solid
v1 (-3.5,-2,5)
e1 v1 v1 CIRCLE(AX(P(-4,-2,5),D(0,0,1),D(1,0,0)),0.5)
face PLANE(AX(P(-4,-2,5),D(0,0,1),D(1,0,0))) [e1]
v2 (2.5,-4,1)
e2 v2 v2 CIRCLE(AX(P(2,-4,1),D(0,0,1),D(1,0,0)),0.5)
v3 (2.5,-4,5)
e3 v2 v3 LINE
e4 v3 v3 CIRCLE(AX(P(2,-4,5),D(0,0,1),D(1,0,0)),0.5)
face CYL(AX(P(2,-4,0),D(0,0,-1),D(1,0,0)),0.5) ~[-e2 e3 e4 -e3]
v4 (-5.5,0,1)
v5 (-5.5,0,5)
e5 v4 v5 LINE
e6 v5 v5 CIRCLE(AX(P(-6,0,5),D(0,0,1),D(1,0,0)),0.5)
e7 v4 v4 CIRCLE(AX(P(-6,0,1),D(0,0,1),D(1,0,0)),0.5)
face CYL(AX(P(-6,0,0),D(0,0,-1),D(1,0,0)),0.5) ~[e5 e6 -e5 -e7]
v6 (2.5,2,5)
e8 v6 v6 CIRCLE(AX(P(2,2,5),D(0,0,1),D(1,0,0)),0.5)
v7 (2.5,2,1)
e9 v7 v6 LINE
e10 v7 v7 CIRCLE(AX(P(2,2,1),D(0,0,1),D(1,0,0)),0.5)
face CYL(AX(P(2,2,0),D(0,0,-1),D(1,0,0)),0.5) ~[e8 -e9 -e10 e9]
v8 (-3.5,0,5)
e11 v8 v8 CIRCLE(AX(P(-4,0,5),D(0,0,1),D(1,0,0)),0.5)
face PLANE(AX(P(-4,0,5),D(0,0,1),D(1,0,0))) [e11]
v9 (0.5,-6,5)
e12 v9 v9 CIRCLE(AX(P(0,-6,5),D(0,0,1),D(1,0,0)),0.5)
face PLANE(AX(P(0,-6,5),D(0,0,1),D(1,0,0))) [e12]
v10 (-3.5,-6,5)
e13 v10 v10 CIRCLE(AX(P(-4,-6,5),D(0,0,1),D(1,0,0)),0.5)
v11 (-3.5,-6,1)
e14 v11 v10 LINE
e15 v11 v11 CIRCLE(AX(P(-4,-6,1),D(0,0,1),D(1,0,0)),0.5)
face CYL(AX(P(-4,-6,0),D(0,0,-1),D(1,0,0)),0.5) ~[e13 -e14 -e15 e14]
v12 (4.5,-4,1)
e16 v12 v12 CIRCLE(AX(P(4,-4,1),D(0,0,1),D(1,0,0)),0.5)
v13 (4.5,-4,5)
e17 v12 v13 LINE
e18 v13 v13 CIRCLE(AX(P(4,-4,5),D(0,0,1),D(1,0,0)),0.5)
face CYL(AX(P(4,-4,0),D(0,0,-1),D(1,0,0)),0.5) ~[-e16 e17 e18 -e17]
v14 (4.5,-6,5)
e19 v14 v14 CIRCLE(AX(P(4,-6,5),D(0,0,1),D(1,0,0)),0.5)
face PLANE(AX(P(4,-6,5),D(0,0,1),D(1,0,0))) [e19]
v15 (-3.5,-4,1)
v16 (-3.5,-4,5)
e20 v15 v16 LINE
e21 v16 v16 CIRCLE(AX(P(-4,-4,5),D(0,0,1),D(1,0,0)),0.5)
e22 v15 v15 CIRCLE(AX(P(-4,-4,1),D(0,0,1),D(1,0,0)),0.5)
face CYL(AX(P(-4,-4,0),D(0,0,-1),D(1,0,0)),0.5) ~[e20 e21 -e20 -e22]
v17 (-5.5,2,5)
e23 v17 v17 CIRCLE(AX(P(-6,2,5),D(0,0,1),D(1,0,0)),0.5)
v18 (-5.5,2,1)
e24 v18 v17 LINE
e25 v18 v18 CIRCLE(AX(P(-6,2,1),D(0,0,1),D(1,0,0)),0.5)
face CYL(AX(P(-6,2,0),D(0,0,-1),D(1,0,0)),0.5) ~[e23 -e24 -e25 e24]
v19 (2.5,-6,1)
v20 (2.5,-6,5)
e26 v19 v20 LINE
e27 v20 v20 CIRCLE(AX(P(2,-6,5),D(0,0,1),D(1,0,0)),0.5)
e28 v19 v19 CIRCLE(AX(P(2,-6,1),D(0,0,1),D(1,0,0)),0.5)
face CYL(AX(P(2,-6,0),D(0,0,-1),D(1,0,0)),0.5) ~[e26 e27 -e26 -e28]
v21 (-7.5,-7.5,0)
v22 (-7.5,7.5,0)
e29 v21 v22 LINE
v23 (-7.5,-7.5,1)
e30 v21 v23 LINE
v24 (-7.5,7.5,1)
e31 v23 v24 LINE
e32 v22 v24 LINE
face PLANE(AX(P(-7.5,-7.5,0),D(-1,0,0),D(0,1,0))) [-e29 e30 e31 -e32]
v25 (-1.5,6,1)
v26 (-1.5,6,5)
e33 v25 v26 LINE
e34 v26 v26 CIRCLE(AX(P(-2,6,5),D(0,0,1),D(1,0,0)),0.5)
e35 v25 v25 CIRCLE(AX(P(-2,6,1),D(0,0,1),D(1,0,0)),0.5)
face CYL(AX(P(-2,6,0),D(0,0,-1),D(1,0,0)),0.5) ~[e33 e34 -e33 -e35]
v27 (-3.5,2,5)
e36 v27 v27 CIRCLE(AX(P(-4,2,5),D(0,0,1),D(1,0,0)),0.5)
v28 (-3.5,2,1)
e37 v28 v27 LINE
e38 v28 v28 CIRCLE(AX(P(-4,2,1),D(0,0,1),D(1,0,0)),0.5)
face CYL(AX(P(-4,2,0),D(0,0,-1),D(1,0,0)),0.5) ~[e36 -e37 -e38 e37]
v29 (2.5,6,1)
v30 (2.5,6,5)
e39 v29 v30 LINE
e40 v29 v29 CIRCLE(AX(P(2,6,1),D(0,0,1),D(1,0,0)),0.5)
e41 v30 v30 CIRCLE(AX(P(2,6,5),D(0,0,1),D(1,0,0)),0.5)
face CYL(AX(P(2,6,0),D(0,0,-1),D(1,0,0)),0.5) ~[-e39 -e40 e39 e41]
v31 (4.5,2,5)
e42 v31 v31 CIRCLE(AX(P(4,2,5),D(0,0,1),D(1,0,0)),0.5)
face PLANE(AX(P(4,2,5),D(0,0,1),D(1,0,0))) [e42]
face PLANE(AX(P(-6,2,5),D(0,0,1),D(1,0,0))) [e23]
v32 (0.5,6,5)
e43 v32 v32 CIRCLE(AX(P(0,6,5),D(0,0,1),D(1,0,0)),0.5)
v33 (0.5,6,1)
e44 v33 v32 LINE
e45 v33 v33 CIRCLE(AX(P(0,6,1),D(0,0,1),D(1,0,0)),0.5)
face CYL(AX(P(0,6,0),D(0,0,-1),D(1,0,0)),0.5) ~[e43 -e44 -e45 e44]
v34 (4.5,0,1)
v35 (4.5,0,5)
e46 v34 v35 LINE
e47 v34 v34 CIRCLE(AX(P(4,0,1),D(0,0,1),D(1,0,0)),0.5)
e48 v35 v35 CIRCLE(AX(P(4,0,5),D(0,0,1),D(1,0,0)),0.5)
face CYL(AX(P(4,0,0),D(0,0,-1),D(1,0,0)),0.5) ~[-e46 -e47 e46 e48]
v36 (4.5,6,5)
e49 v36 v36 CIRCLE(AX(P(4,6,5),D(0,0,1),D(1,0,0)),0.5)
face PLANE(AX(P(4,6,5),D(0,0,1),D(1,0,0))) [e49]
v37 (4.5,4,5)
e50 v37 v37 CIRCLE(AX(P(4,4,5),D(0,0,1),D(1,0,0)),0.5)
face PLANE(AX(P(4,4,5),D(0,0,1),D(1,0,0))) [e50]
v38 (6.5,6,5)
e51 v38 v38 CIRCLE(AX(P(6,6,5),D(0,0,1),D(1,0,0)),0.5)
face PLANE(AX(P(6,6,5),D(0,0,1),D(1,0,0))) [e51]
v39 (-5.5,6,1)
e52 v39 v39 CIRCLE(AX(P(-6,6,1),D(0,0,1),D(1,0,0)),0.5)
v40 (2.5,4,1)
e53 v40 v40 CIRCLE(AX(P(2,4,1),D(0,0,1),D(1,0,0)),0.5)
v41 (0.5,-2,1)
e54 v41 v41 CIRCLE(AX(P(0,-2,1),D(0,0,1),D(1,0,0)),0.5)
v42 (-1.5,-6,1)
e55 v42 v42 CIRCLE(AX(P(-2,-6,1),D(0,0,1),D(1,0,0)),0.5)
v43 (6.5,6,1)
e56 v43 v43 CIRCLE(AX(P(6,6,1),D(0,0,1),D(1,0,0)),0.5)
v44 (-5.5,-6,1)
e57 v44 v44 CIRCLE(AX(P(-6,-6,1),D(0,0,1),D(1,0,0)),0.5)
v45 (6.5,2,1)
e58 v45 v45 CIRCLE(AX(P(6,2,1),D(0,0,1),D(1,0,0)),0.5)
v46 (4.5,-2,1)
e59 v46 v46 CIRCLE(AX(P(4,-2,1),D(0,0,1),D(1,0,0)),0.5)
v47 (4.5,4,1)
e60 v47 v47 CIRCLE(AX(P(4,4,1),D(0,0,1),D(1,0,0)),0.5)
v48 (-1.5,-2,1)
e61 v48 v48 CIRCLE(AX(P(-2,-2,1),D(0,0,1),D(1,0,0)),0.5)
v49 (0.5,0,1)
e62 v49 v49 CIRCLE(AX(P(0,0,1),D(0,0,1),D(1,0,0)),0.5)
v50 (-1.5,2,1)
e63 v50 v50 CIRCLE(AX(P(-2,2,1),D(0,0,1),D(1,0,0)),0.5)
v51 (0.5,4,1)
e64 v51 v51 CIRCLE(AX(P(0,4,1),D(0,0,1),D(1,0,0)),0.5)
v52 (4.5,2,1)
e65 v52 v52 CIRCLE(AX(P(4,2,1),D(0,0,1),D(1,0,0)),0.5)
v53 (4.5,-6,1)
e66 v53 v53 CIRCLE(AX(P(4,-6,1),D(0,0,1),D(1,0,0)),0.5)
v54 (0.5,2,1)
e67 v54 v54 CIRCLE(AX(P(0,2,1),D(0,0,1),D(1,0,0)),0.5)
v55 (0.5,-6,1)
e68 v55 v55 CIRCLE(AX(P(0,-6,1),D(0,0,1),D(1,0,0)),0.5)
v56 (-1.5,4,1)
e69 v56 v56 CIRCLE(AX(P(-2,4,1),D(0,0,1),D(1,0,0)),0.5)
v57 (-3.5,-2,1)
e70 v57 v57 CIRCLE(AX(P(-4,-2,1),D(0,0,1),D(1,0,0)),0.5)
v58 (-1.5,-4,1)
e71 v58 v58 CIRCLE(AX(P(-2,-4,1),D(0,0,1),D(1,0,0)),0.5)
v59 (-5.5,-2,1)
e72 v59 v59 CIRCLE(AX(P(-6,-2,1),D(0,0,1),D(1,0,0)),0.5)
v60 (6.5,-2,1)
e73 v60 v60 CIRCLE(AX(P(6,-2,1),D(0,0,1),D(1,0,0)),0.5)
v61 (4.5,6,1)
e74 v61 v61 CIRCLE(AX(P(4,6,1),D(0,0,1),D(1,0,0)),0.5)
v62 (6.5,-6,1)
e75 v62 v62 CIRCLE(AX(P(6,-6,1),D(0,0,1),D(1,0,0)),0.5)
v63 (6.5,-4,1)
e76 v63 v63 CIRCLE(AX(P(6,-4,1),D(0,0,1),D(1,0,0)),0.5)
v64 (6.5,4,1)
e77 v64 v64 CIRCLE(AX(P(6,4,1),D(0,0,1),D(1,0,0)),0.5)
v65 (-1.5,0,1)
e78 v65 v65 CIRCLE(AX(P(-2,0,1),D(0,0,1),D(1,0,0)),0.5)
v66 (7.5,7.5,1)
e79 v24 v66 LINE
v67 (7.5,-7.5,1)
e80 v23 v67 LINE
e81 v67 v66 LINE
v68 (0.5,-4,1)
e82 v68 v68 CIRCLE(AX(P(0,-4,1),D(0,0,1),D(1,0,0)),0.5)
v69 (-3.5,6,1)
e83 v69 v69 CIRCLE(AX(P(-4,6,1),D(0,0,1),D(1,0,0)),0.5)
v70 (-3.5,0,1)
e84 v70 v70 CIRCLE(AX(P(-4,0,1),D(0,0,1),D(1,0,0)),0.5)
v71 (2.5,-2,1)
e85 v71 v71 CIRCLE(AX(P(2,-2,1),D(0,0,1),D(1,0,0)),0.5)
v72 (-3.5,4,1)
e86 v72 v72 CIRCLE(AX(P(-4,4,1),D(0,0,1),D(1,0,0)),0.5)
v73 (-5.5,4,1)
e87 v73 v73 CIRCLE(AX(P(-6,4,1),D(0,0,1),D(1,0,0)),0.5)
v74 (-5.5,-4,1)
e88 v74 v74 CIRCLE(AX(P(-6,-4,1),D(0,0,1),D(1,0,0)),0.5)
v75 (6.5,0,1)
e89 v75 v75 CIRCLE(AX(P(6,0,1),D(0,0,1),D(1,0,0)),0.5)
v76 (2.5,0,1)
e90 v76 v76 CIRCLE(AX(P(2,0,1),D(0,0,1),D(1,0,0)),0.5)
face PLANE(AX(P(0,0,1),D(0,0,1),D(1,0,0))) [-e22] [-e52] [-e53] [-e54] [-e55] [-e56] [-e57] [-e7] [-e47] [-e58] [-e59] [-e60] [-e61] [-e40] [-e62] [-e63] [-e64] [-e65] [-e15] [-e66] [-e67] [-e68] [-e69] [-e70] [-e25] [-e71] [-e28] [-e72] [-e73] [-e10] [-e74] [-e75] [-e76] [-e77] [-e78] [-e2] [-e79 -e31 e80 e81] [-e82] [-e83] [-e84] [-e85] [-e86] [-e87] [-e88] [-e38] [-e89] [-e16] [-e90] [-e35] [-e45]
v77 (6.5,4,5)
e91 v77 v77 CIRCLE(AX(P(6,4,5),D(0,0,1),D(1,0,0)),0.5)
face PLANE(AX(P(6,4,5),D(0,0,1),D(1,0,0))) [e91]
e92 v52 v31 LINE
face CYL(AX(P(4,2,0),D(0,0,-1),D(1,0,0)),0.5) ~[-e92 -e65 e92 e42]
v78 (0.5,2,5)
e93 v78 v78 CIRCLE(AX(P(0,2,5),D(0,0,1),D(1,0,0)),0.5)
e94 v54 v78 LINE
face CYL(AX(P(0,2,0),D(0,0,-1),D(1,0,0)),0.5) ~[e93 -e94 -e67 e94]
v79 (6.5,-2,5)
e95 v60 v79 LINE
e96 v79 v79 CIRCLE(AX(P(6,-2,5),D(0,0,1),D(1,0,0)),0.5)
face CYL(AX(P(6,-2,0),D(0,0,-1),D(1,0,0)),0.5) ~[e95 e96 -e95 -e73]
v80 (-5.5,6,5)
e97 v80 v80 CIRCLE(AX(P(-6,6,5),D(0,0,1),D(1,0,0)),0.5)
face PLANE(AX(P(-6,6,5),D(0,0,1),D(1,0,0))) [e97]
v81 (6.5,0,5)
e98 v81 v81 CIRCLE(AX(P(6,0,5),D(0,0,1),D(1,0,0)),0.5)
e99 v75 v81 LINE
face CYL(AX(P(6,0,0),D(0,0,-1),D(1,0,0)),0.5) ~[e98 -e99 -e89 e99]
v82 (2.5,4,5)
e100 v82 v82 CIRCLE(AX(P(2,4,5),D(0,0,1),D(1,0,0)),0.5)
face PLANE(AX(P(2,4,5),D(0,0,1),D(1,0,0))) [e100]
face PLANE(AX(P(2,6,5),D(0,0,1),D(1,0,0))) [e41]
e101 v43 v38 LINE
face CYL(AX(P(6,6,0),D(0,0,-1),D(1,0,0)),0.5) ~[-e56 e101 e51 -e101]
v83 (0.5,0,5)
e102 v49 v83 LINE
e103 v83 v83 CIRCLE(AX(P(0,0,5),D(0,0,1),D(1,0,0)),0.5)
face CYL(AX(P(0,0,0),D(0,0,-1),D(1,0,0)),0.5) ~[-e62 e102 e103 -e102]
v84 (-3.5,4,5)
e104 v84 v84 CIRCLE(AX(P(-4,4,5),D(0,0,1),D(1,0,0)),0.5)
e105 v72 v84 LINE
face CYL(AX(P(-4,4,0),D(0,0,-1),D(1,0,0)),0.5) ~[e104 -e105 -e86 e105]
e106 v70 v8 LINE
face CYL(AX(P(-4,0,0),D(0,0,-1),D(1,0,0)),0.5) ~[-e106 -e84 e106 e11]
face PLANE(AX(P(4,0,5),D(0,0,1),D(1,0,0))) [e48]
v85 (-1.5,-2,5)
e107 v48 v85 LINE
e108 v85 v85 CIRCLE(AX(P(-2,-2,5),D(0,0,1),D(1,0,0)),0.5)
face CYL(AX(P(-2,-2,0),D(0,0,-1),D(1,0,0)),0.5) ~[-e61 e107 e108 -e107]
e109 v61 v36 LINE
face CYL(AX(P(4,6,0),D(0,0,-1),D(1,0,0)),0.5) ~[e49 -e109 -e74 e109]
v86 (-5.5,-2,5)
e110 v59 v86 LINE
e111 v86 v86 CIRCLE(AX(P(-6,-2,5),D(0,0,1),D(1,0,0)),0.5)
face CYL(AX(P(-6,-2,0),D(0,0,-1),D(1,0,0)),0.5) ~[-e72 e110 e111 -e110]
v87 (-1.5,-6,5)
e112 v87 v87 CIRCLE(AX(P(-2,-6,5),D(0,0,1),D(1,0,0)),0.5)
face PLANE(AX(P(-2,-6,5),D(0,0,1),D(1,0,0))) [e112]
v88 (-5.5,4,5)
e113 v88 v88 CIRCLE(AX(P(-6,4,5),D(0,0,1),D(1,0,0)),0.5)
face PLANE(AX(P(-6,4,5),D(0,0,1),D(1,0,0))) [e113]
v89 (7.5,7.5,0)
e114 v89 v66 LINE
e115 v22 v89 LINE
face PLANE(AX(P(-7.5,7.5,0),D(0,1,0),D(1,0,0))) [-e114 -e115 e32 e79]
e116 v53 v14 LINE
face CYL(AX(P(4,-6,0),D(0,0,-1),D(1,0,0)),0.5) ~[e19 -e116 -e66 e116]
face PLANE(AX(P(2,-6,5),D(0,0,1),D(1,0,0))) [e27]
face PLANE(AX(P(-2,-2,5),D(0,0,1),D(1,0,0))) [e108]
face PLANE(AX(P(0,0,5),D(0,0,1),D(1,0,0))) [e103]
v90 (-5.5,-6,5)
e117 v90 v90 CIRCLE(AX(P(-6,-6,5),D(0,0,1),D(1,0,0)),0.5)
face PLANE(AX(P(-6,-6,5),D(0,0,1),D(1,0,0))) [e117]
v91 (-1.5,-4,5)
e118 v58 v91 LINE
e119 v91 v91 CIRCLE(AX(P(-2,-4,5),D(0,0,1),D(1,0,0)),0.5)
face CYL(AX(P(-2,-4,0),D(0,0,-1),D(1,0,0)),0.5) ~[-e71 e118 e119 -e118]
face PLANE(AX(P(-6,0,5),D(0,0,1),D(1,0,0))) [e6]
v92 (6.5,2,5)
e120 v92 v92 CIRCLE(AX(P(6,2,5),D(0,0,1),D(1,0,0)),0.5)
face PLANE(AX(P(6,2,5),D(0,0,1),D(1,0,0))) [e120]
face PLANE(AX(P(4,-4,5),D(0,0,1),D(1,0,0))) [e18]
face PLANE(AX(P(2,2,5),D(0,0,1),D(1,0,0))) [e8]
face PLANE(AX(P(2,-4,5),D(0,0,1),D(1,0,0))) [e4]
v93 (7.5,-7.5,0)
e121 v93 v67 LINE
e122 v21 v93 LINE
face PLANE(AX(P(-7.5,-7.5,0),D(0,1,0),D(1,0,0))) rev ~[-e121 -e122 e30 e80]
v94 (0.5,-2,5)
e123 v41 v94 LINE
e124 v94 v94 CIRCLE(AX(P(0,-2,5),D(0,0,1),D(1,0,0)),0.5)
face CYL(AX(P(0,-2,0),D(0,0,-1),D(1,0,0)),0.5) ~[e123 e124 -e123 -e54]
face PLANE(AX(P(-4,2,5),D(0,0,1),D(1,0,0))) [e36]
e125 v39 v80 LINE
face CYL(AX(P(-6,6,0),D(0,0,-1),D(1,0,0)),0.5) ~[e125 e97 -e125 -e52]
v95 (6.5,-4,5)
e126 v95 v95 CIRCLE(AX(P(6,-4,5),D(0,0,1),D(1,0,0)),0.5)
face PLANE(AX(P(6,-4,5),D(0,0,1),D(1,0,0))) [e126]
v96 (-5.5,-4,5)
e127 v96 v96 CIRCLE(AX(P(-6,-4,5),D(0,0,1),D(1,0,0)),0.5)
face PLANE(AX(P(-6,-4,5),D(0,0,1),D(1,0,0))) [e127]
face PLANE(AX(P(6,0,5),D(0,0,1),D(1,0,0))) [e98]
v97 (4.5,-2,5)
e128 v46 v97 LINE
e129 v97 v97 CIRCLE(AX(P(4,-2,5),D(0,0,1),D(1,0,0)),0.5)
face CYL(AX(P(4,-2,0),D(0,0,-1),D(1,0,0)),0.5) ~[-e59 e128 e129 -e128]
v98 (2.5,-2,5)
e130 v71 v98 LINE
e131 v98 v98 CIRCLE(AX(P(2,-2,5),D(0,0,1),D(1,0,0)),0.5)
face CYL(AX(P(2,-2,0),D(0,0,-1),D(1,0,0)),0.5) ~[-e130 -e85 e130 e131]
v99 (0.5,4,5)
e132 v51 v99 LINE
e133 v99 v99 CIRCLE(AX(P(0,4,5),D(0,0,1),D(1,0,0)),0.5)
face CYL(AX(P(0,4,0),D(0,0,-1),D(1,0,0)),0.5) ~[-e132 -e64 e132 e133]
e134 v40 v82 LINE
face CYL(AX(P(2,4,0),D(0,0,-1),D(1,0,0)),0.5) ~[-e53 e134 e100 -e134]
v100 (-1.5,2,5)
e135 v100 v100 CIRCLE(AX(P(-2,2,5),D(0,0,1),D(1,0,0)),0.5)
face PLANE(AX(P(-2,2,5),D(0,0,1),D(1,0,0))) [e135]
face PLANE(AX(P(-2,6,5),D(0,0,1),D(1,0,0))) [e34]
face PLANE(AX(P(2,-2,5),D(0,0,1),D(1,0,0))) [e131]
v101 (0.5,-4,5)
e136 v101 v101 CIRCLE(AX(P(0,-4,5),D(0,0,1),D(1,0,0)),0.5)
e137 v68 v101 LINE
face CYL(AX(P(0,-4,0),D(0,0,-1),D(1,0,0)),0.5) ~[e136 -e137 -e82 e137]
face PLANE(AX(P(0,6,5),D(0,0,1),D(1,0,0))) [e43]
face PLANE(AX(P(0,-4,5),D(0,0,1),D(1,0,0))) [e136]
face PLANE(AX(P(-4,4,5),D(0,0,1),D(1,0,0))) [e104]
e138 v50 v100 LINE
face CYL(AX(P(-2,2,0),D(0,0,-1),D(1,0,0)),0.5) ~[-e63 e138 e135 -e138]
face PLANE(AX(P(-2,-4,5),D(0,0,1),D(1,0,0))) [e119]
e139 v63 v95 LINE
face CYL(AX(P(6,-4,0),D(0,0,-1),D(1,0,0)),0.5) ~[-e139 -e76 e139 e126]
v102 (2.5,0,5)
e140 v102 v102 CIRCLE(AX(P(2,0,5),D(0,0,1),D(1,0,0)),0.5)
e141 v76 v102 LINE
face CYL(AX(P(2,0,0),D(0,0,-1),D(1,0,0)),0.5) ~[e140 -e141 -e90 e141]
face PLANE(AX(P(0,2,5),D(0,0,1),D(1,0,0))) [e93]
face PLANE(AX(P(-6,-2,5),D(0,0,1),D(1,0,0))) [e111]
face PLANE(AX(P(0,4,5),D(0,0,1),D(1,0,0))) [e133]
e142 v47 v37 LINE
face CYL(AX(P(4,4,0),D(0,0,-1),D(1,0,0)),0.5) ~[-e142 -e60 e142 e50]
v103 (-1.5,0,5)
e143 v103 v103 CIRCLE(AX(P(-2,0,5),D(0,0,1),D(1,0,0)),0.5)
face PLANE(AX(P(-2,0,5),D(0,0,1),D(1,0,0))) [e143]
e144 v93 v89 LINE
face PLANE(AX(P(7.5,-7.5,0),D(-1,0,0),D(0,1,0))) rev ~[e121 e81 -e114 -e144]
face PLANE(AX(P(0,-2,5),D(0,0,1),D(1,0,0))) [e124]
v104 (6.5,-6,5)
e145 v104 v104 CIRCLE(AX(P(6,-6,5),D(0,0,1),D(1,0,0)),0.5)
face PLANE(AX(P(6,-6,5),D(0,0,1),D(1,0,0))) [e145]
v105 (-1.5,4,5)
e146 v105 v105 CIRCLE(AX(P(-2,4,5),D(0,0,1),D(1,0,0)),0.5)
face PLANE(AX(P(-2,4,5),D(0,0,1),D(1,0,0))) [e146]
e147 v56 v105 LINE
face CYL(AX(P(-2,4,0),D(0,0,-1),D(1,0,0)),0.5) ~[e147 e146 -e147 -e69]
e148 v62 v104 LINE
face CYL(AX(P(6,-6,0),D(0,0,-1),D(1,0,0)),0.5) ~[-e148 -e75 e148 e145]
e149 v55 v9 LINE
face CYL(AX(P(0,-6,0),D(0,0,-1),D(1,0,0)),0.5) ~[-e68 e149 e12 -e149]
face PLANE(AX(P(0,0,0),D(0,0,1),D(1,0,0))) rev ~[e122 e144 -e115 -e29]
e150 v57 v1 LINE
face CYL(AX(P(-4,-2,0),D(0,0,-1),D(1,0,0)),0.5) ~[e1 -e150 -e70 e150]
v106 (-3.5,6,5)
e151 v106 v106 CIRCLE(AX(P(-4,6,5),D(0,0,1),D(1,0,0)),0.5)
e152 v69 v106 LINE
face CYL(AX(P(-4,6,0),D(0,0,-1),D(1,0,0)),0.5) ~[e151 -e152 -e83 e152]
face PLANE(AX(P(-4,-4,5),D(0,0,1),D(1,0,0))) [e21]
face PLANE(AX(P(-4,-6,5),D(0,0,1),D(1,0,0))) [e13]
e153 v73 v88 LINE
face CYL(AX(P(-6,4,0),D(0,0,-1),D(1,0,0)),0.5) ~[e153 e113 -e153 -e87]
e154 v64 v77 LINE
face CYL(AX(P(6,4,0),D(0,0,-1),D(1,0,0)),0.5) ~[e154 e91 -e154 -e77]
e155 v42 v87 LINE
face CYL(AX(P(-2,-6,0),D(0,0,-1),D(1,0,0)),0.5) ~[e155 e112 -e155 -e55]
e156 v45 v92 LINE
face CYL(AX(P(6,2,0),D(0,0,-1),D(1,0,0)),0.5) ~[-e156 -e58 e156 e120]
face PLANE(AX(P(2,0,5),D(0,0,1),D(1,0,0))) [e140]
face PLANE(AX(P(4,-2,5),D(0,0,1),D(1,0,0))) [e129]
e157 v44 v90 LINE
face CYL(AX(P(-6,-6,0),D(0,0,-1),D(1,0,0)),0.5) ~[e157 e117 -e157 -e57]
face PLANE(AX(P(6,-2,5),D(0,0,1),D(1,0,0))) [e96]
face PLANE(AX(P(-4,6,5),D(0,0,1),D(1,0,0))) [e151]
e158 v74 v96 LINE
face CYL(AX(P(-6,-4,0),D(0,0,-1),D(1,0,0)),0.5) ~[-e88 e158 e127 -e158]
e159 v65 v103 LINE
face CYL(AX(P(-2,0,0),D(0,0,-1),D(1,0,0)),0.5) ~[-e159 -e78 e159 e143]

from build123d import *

# Parameters (mm, degrees)
F0_W     = 15
F0_H     = 15
F0_R     = 0.5
F1_DEPTH = 1
F2_DEPTH = 5


with BuildPart() as f1:
    # F0 (on Top) → F1 (new body)
    with BuildSketch(Plane.XY):
        Rectangle(F0_W, F0_H)
        with Locations((-6, -6)):
            Circle(F0_R, mode=Mode.SUBTRACT)
        with Locations((-4, -6)):
            Circle(F0_R, mode=Mode.SUBTRACT)
        with Locations((-6, -4)):
            Circle(F0_R, mode=Mode.SUBTRACT)
        with Locations((-4, -4)):
            Circle(F0_R, mode=Mode.SUBTRACT)
        with Locations((-2, -6)):
            Circle(F0_R, mode=Mode.SUBTRACT)
        with Locations((-2, -4)):
            Circle(F0_R, mode=Mode.SUBTRACT)
        with Locations((-6, -2)):
            Circle(F0_R, mode=Mode.SUBTRACT)
        with Locations((-4, -2)):
            Circle(F0_R, mode=Mode.SUBTRACT)
        with Locations((-2, -2)):
            Circle(F0_R, mode=Mode.SUBTRACT)
        with Locations((0, -6)):
            Circle(F0_R, mode=Mode.SUBTRACT)
        with Locations((2, -6)):
            Circle(F0_R, mode=Mode.SUBTRACT)
        with Locations((0, -4)):
            Circle(F0_R, mode=Mode.SUBTRACT)
        with Locations((2, -4)):
            Circle(F0_R, mode=Mode.SUBTRACT)
        with Locations((4, -6)):
            Circle(F0_R, mode=Mode.SUBTRACT)
        with Locations((6, -6)):
            Circle(F0_R, mode=Mode.SUBTRACT)
        with Locations((4, -4)):
            Circle(F0_R, mode=Mode.SUBTRACT)
        with Locations((6, -4)):
            Circle(F0_R, mode=Mode.SUBTRACT)
        with Locations((0, -2)):
            Circle(F0_R, mode=Mode.SUBTRACT)
        with Locations((2, -2)):
            Circle(F0_R, mode=Mode.SUBTRACT)
        with Locations((4, -2)):
            Circle(F0_R, mode=Mode.SUBTRACT)
        with Locations((6, -2)):
            Circle(F0_R, mode=Mode.SUBTRACT)
        with Locations((-6, 0)):
            Circle(F0_R, mode=Mode.SUBTRACT)
        with Locations((-4, 0)):
            Circle(F0_R, mode=Mode.SUBTRACT)
        with Locations((-6, 2)):
            Circle(F0_R, mode=Mode.SUBTRACT)
        with Locations((-4, 2)):
            Circle(F0_R, mode=Mode.SUBTRACT)
        with Locations((-2, 0)):
            Circle(F0_R, mode=Mode.SUBTRACT)
        with Locations((-2, 2)):
            Circle(F0_R, mode=Mode.SUBTRACT)
        with Locations((-6, 4)):
            Circle(F0_R, mode=Mode.SUBTRACT)
        with Locations((-4, 4)):
            Circle(F0_R, mode=Mode.SUBTRACT)
        with Locations((-6, 6)):
            Circle(F0_R, mode=Mode.SUBTRACT)
        with Locations((-4, 6)):
            Circle(F0_R, mode=Mode.SUBTRACT)
        with Locations((-2, 4)):
            Circle(F0_R, mode=Mode.SUBTRACT)
        with Locations((-2, 6)):
            Circle(F0_R, mode=Mode.SUBTRACT)
        Circle(F0_R, mode=Mode.SUBTRACT)
        with Locations((2, 0)):
            Circle(F0_R, mode=Mode.SUBTRACT)
        with Locations((0, 2)):
            Circle(F0_R, mode=Mode.SUBTRACT)
        with Locations((2, 2)):
            Circle(F0_R, mode=Mode.SUBTRACT)
        with Locations((4, 0)):
            Circle(F0_R, mode=Mode.SUBTRACT)
        with Locations((6, 0)):
            Circle(F0_R, mode=Mode.SUBTRACT)
        with Locations((4, 2)):
            Circle(F0_R, mode=Mode.SUBTRACT)
        with Locations((6, 2)):
            Circle(F0_R, mode=Mode.SUBTRACT)
        with Locations((0, 4)):
            Circle(F0_R, mode=Mode.SUBTRACT)
        with Locations((2, 4)):
            Circle(F0_R, mode=Mode.SUBTRACT)
        with Locations((0, 6)):
            Circle(F0_R, mode=Mode.SUBTRACT)
        with Locations((2, 6)):
            Circle(F0_R, mode=Mode.SUBTRACT)
        with Locations((4, 4)):
            Circle(F0_R, mode=Mode.SUBTRACT)
        with Locations((6, 4)):
            Circle(F0_R, mode=Mode.SUBTRACT)
        with Locations((4, 6)):
            Circle(F0_R, mode=Mode.SUBTRACT)
        with Locations((6, 6)):
            Circle(F0_R, mode=Mode.SUBTRACT)
    extrude(amount=F1_DEPTH)

    # F0 (on Top) → F2 (join)
    with BuildSketch(Plane.XY):
        with Locations((-6, 6)):
            Circle(F0_R)
        with Locations((-4, 6)):
            Circle(F0_R)
        with Locations((-2, 6)):
            Circle(F0_R)
        with Locations((0, 6)):
            Circle(F0_R)
        with Locations((2, 6)):
            Circle(F0_R)
        with Locations((4, 6)):
            Circle(F0_R)
        with Locations((6, 6)):
            Circle(F0_R)
        with Locations((6, 4)):
            Circle(F0_R)
        with Locations((4, 4)):
            Circle(F0_R)
        with Locations((2, 4)):
            Circle(F0_R)
        with Locations((0, 4)):
            Circle(F0_R)
        with Locations((-2, 4)):
            Circle(F0_R)
        with Locations((-4, 4)):
            Circle(F0_R)
        with Locations((-6, 4)):
            Circle(F0_R)
        with Locations((-6, 2)):
            Circle(F0_R)
        with Locations((-4, 2)):
            Circle(F0_R)
        with Locations((-2, 2)):
            Circle(F0_R)
        with Locations((0, 2)):
            Circle(F0_R)
        with Locations((2, 2)):
            Circle(F0_R)
        with Locations((4, 2)):
            Circle(F0_R)
        with Locations((6, 2)):
            Circle(F0_R)
        with Locations((6, 0)):
            Circle(F0_R)
        with Locations((4, 0)):
            Circle(F0_R)
        with Locations((2, 0)):
            Circle(F0_R)
        Circle(F0_R)
        with Locations((-2, 0)):
            Circle(F0_R)
        with Locations((-4, 0)):
            Circle(F0_R)
        with Locations((-6, 0)):
            Circle(F0_R)
        with Locations((-6, -2)):
            Circle(F0_R)
        with Locations((-4, -2)):
            Circle(F0_R)
        with Locations((-2, -2)):
            Circle(F0_R)
        with Locations((0, -2)):
            Circle(F0_R)
        with Locations((2, -2)):
            Circle(F0_R)
        with Locations((4, -2)):
            Circle(F0_R)
        with Locations((6, -2)):
            Circle(F0_R)
        with Locations((6, -4)):
            Circle(F0_R)
        with Locations((4, -4)):
            Circle(F0_R)
        with Locations((2, -4)):
            Circle(F0_R)
        with Locations((0, -4)):
            Circle(F0_R)
        with Locations((-2, -4)):
            Circle(F0_R)
        with Locations((-4, -4)):
            Circle(F0_R)
        with Locations((-6, -4)):
            Circle(F0_R)
        with Locations((-6, -6)):
            Circle(F0_R)
        with Locations((-4, -6)):
            Circle(F0_R)
        with Locations((-2, -6)):
            Circle(F0_R)
        with Locations((0, -6)):
            Circle(F0_R)
        with Locations((2, -6)):
            Circle(F0_R)
        with Locations((4, -6)):
            Circle(F0_R)
        with Locations((6, -6)):
            Circle(F0_R)
    extrude(amount=F2_DEPTH)


solid = f1.part
